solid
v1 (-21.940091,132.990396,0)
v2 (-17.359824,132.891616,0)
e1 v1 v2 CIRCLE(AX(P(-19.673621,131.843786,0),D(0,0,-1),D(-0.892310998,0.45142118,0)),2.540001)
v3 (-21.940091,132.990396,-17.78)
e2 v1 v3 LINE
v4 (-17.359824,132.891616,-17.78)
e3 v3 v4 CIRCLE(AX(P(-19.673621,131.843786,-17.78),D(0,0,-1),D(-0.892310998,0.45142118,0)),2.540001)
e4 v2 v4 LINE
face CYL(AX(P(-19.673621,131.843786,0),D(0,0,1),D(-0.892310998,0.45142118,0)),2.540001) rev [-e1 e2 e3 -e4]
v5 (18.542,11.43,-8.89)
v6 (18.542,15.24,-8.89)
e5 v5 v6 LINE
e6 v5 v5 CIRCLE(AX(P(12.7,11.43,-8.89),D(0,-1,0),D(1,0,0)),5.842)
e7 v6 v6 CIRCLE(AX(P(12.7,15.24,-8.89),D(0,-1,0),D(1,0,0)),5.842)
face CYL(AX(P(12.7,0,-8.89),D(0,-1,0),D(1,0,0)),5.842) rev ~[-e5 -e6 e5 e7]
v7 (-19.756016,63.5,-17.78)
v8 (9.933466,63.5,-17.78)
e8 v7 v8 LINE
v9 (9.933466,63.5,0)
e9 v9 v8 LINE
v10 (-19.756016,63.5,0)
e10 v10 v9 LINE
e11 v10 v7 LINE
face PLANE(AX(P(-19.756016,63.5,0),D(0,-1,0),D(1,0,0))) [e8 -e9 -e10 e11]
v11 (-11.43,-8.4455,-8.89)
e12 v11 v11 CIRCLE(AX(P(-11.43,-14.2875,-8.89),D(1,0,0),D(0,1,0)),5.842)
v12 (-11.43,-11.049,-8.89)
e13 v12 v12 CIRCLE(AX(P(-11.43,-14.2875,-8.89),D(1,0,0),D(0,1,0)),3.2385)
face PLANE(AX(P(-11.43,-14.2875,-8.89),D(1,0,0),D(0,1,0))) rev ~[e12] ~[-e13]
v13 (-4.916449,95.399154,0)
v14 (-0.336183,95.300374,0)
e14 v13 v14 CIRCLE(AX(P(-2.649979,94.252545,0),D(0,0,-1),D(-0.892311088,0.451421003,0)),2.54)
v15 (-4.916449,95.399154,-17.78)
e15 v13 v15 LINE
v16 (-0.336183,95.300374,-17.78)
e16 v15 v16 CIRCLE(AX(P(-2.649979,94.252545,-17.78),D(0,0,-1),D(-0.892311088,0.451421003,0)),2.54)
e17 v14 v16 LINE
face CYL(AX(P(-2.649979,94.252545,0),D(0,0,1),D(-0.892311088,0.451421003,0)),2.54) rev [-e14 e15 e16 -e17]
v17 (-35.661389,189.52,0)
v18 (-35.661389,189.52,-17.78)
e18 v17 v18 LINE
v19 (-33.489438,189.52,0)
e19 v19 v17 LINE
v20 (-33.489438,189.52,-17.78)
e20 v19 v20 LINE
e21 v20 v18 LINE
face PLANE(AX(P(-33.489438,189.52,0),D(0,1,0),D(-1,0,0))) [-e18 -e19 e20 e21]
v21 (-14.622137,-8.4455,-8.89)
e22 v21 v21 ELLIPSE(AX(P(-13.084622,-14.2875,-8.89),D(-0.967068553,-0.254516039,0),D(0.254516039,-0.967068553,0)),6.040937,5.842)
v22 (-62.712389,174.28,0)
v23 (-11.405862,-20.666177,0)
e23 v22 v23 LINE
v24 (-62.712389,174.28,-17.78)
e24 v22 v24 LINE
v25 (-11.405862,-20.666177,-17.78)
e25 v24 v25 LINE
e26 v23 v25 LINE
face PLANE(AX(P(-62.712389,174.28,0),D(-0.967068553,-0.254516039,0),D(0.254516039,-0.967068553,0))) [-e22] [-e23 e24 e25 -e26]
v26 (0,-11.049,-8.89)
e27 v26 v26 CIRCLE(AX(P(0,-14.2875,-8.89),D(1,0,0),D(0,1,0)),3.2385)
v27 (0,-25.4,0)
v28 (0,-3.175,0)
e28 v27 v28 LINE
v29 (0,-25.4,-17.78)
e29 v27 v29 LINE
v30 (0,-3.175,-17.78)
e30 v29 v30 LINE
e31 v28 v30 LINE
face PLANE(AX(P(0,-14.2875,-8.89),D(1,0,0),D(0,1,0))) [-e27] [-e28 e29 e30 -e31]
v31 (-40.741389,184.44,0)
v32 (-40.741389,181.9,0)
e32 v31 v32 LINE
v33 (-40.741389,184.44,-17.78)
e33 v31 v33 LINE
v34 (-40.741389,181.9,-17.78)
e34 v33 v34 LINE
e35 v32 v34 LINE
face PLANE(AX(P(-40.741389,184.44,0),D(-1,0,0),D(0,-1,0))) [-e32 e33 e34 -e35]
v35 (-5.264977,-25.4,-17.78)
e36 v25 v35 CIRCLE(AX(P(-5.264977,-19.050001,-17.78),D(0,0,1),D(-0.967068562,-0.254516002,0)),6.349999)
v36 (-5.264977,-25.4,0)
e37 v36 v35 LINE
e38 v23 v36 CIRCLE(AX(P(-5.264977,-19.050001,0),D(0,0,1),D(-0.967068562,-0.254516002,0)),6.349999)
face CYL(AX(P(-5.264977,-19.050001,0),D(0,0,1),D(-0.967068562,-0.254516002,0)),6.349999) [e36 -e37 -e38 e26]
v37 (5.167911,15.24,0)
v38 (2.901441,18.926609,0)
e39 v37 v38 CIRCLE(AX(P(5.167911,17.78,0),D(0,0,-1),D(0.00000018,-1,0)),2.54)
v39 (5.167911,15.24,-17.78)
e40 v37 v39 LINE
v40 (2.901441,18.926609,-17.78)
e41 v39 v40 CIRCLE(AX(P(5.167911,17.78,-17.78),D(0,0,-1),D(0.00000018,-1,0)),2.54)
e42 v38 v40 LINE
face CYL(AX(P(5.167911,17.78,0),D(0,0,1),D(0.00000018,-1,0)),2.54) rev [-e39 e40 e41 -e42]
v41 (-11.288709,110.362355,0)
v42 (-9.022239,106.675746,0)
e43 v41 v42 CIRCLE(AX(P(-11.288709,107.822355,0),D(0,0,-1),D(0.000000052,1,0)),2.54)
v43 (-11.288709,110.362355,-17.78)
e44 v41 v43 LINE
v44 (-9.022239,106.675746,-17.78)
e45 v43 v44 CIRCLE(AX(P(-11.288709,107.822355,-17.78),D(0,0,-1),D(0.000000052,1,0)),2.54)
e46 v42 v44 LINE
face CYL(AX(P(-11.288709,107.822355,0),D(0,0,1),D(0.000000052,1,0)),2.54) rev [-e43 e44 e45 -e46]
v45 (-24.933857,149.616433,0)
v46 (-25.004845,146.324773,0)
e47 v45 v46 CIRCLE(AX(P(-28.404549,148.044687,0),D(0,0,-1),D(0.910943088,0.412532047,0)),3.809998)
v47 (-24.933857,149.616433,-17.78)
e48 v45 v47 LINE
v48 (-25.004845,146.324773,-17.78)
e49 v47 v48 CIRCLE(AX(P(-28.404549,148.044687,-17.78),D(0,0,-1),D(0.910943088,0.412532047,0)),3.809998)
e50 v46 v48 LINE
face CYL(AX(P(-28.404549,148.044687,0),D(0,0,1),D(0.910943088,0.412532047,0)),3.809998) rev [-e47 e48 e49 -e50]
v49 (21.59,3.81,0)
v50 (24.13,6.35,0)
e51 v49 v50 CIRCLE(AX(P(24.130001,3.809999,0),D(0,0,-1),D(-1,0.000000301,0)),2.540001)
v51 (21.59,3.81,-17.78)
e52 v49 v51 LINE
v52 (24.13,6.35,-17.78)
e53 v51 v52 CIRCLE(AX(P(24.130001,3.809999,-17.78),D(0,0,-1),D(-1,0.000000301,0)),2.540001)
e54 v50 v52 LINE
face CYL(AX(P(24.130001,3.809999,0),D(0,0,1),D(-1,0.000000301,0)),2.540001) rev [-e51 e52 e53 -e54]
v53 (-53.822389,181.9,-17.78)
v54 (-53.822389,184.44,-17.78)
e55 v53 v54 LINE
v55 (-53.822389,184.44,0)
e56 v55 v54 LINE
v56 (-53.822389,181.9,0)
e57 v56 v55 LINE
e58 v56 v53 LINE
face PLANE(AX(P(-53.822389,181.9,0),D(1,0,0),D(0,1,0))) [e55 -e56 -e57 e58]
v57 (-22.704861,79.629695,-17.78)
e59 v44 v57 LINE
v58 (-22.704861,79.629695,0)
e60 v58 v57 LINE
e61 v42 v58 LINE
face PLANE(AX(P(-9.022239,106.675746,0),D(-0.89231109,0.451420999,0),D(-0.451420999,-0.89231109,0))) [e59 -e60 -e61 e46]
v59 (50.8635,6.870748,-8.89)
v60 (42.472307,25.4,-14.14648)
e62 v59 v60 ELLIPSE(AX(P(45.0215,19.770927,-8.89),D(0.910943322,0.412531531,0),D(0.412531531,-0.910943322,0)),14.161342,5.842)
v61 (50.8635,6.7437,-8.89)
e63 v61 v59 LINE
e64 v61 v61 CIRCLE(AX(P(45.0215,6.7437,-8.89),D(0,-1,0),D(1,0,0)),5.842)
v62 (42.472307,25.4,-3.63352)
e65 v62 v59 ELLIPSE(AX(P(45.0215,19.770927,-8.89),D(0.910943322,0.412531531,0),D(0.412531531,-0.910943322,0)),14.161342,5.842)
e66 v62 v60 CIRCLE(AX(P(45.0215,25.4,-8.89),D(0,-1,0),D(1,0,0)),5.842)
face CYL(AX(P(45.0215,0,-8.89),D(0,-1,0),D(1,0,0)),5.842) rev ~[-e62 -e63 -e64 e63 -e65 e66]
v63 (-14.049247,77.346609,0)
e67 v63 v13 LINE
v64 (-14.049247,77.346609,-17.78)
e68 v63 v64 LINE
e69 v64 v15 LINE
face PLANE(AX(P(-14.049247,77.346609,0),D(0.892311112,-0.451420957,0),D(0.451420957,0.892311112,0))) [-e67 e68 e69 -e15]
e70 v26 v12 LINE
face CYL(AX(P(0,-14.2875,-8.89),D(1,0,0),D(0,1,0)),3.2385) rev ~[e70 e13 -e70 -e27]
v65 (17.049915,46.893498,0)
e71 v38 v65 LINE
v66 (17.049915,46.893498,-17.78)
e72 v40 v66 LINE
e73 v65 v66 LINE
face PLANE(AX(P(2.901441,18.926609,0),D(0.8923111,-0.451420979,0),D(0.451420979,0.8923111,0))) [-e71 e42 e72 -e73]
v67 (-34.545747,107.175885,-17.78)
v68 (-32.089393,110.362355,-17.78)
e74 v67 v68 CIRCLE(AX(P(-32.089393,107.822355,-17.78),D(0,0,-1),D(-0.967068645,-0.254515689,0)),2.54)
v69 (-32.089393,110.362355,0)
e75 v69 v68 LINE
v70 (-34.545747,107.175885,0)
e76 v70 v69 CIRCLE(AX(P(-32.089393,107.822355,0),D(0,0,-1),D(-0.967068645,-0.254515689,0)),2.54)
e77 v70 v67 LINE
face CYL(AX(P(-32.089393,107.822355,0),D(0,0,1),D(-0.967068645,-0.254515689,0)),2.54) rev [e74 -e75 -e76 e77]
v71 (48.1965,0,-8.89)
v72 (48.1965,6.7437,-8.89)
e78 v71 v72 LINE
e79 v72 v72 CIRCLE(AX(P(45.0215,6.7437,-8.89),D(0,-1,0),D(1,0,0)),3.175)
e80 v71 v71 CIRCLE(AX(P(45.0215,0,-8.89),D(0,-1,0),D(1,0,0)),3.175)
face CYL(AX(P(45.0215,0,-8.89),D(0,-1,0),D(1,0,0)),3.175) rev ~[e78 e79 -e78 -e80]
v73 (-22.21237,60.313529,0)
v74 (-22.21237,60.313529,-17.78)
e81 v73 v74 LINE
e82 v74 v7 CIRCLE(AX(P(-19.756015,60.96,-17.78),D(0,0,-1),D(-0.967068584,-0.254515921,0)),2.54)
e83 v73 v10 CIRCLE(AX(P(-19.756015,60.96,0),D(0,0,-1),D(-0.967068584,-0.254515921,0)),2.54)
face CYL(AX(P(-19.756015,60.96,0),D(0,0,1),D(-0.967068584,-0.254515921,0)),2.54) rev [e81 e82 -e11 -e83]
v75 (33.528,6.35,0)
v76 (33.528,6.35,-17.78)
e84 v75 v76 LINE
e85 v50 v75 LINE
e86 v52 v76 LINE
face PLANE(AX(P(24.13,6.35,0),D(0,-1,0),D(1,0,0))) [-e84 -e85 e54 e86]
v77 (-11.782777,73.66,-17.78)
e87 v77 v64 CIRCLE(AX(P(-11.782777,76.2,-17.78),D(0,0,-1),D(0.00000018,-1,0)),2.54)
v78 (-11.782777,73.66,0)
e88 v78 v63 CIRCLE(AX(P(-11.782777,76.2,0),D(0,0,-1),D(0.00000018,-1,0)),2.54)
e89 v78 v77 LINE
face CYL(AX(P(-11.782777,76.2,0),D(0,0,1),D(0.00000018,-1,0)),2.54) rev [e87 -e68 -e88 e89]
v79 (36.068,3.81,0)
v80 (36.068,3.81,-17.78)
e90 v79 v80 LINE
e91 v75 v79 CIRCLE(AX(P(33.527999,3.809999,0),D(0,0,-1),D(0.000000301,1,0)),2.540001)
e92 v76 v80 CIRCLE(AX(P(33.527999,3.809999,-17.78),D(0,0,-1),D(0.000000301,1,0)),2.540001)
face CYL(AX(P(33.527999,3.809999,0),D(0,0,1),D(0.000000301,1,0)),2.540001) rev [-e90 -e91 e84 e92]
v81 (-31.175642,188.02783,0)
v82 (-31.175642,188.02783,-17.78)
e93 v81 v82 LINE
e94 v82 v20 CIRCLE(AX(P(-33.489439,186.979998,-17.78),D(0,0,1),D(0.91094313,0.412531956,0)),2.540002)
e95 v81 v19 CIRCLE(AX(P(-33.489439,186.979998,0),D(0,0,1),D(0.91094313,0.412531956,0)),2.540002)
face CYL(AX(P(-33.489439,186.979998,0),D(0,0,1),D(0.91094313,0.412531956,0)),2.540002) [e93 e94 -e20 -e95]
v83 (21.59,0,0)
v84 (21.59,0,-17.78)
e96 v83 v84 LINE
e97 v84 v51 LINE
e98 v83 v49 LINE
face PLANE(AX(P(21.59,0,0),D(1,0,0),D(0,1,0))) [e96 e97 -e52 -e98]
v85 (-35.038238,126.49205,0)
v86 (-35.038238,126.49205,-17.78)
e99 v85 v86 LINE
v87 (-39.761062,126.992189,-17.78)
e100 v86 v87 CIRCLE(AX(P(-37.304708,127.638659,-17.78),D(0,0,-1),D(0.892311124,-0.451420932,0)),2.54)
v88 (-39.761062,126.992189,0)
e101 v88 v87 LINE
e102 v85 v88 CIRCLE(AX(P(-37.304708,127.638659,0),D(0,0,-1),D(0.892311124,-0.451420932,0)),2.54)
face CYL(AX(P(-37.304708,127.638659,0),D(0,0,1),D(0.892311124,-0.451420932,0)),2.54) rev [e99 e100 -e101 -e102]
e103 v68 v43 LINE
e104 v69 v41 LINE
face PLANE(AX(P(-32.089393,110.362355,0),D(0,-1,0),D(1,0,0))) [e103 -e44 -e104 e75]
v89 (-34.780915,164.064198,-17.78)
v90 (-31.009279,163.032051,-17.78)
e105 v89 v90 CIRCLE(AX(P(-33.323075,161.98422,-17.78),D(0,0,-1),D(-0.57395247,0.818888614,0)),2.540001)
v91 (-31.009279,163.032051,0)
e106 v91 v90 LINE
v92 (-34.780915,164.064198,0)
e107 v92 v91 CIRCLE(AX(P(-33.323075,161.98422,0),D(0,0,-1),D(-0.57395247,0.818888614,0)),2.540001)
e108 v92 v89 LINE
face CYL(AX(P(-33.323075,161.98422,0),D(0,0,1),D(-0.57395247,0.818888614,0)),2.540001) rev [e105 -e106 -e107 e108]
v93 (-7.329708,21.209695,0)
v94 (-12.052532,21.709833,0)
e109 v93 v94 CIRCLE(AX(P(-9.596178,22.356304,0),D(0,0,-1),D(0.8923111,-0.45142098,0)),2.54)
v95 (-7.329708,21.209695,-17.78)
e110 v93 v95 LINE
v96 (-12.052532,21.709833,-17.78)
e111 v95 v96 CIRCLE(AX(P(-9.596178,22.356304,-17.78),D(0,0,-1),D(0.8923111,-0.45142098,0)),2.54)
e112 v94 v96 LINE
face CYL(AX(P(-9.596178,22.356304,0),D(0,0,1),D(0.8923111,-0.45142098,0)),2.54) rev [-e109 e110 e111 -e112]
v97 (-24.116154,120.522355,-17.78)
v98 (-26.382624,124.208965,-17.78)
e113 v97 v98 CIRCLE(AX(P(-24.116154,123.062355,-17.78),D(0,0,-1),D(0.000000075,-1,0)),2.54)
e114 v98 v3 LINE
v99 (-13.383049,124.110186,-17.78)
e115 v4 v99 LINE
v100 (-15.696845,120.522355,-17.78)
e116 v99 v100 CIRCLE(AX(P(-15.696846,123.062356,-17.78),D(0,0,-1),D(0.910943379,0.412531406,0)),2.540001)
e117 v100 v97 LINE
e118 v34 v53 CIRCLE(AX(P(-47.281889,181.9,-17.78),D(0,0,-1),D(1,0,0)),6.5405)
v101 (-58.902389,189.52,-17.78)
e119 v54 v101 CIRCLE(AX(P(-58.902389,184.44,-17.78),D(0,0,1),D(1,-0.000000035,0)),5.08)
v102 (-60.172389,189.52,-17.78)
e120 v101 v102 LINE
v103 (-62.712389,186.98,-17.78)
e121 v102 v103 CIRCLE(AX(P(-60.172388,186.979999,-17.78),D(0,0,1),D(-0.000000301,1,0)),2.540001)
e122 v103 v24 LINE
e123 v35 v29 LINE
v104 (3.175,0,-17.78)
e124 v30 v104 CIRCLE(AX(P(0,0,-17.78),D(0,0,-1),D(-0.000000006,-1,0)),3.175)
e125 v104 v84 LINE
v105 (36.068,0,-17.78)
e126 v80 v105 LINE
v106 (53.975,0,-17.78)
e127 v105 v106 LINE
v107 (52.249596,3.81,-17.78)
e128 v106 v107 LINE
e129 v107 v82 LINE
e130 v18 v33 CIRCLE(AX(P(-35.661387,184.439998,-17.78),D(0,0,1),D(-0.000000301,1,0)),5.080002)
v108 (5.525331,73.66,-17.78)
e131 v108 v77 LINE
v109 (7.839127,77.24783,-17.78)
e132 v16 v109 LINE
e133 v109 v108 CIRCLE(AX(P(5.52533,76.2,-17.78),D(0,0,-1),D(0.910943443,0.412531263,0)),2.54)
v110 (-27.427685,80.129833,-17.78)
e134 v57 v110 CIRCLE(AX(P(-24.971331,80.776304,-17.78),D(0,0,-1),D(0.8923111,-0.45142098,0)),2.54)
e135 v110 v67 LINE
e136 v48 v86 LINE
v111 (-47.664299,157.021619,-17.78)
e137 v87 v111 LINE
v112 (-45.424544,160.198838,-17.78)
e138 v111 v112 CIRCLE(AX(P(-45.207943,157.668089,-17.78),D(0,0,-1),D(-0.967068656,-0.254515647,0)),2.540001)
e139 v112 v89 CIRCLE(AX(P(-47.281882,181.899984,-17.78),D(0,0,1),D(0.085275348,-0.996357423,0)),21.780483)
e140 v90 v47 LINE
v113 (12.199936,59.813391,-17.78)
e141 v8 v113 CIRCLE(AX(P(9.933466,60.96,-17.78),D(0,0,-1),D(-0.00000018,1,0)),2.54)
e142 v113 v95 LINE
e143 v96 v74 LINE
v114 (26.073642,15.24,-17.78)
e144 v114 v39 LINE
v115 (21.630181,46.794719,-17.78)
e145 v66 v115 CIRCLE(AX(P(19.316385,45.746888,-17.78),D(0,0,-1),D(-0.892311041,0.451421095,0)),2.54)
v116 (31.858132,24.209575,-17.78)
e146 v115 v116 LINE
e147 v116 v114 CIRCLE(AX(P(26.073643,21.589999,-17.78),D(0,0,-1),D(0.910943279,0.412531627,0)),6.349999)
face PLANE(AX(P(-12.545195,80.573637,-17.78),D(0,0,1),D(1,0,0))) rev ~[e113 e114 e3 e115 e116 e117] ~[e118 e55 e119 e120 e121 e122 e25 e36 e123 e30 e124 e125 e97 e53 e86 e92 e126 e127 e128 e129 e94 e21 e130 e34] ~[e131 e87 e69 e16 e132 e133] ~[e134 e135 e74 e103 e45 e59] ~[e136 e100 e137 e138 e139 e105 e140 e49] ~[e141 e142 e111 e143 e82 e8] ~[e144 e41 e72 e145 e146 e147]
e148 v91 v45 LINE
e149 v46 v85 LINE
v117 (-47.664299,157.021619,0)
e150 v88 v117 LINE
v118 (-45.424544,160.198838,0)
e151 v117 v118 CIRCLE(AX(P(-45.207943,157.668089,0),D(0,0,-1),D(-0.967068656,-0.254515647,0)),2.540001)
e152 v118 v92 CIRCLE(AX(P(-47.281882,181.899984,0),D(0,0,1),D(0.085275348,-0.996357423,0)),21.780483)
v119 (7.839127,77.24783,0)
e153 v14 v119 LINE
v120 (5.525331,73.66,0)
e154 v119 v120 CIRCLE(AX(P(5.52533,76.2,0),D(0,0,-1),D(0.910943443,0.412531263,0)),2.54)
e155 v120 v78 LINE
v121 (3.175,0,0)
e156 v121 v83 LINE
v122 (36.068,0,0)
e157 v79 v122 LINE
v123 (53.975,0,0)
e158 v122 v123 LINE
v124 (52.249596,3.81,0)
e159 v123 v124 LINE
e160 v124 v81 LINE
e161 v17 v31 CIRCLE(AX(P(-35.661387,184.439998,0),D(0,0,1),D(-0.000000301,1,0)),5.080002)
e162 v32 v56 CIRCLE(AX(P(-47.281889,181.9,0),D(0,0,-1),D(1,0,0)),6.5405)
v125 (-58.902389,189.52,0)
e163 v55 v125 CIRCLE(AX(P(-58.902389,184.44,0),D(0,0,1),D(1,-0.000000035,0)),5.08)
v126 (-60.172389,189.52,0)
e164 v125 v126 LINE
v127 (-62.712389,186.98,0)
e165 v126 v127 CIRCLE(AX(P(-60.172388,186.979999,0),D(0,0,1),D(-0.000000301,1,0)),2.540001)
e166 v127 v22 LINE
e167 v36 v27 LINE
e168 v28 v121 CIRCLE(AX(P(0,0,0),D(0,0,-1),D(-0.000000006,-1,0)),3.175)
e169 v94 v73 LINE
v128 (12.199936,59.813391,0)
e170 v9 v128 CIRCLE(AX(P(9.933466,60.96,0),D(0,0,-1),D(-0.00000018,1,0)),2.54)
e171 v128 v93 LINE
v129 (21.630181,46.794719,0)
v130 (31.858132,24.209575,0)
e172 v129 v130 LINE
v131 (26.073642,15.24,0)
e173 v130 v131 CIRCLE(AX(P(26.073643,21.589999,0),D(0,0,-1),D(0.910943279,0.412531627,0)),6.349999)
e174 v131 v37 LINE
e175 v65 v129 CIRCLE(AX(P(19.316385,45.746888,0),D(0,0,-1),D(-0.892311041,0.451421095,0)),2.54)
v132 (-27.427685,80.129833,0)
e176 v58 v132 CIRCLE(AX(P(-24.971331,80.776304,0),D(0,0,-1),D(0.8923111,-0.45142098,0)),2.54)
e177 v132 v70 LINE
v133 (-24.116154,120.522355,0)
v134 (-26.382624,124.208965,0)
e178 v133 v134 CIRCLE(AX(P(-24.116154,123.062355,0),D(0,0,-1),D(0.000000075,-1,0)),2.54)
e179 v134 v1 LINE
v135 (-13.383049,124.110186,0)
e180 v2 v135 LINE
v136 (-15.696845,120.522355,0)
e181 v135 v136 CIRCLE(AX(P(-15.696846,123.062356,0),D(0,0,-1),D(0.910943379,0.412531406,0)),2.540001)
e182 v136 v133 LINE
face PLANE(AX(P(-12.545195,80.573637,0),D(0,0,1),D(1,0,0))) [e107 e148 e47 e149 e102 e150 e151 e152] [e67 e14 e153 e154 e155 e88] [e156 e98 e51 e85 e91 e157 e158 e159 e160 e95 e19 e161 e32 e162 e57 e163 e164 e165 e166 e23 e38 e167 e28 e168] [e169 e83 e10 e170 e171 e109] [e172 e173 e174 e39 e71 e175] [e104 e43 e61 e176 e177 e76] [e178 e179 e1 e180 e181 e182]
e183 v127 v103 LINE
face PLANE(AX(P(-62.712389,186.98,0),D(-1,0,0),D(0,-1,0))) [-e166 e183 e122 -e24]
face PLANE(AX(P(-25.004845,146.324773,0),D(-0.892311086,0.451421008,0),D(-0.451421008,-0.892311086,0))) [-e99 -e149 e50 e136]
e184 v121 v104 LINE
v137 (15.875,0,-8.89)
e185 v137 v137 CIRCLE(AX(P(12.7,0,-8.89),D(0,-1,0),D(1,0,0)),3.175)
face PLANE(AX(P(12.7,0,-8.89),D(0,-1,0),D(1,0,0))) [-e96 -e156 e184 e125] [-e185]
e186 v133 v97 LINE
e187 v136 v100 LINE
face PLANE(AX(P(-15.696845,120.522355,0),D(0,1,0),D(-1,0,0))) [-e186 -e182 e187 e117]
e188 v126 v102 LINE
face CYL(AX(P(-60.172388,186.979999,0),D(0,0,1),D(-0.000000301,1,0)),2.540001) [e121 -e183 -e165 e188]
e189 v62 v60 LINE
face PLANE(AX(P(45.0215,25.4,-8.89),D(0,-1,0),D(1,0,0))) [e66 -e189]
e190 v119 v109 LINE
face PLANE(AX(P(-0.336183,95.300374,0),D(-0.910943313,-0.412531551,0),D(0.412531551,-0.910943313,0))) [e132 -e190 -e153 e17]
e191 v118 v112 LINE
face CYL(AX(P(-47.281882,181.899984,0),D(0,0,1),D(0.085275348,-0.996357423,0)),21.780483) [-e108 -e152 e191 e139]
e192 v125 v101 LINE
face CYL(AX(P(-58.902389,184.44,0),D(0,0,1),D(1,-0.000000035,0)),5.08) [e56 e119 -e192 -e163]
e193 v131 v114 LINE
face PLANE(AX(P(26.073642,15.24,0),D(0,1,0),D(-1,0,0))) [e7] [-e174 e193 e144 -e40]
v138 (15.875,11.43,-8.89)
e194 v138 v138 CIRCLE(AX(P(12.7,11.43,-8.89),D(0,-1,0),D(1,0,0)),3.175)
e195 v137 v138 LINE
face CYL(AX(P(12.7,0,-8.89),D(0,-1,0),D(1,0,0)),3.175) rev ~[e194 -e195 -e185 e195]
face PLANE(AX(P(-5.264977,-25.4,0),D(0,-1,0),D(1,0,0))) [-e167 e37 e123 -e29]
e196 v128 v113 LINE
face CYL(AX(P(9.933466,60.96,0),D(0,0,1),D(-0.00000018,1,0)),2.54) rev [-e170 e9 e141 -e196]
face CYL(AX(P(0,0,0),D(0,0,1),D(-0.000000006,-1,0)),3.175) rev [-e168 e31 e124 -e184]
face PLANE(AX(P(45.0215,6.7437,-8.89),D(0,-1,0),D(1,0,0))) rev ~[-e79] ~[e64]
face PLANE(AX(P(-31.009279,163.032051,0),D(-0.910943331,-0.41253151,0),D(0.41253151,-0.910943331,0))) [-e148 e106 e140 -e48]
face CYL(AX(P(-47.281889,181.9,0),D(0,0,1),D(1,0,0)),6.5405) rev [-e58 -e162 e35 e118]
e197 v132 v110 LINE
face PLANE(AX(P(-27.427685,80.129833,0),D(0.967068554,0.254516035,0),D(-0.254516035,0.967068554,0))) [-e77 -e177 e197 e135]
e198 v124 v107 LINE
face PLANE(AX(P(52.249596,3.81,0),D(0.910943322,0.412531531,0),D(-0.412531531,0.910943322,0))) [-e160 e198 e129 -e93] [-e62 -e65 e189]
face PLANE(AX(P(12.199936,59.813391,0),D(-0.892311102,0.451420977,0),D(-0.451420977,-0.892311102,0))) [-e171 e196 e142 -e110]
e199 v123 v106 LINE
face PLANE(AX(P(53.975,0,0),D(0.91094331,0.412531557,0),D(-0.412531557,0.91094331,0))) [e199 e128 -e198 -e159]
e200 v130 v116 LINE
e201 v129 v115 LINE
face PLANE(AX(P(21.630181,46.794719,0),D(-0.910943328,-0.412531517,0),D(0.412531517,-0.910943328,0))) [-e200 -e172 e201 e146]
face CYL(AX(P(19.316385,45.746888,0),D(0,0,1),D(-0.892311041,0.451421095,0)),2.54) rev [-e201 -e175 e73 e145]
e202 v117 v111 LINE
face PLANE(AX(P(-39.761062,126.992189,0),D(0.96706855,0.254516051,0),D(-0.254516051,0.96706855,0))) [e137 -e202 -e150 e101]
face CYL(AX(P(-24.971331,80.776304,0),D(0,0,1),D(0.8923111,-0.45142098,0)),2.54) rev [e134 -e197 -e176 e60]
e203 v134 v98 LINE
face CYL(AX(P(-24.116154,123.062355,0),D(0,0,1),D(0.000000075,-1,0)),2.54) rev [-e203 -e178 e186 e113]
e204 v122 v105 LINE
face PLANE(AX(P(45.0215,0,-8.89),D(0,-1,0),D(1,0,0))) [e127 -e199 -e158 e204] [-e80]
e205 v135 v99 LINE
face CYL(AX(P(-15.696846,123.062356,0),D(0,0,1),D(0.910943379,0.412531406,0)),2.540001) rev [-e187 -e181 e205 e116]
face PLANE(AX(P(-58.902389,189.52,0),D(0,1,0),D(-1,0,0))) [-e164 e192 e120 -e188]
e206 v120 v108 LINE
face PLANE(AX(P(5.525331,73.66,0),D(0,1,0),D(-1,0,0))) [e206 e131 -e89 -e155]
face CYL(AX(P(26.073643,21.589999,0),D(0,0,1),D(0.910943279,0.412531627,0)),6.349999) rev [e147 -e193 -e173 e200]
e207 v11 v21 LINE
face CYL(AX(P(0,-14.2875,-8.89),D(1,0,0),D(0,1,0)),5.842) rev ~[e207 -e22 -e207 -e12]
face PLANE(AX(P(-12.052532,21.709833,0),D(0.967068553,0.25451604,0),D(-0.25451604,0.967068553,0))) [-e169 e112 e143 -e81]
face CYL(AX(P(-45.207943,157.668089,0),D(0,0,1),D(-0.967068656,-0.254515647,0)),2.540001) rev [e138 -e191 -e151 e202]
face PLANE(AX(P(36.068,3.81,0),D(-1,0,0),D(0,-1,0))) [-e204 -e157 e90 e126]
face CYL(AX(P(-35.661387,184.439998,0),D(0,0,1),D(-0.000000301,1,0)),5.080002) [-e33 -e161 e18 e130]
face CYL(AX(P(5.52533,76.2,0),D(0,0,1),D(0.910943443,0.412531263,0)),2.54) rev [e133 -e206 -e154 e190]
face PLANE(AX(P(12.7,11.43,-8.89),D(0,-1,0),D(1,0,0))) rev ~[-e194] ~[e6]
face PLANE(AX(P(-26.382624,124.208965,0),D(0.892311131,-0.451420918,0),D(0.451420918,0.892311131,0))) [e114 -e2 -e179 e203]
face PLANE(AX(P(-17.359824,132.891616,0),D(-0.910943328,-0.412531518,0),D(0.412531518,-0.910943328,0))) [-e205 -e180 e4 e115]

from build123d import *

# Parameters (mm, degrees)
F0_W     = 18.415
F0_H     = 3.81
F1_DEPTH = 17.78
F2_R     = 5.842
F2_R_2   = 3.2385
F3_DEPTH = 25.4
F4_R     = 5.842
F4_R_2   = 3.175
F5_DEPTH = 25.4
F6_DEPTH = 11.43
F7_DEPTH = 6.7437
F8_DEPTH = 11.43


with BuildPart() as f1:
    # F0 (on Top) → F1 (new body)
    with BuildSketch(Plane.XY):
        with BuildLine():
            ThreePointArc((-40.741389, 181.9), (-47.281889, 175.3595), (-53.822389, 181.9))
            Line((-53.822389, 181.9), (-53.822389, 184.44))
            ThreePointArc((-53.822389, 184.44), (-55.310286, 188.032102), (-58.902389, 189.52))
            Line((-58.902389, 189.52), (-60.172389, 189.52))
            ThreePointArc((-60.172389, 189.52), (-61.96844, 188.776051), (-62.712389, 186.98))
            Line((-62.712389, 186.98), (-62.712389, 174.28))
            Line((-62.712389, 174.28), (-11.405862, -20.666177))
            ThreePointArc((-11.405862, -20.666177), (-9.141817, -24.079176), (-5.264977, -25.4))
            Line((-5.264977, -25.4), (-2.54, -25.4))
            Line((-2.54, -25.4), (0, -25.4))
            Line((0, -25.4), (0, -3.175))
            ThreePointArc((0, -3.175), (-2.245064, 2.245064), (3.175, 0))
            Line((3.175, 0), (3.175, 3.81))
            Line((3.175, 3.81), (21.59, 3.81))
            ThreePointArc((21.59, 3.81), (22.333949, 5.606051), (24.13, 6.35))
            Line((24.13, 6.35), (33.528, 6.35))
            ThreePointArc((33.528, 6.35), (35.324051, 5.606051), (36.068, 3.81))
            Line((36.068, 3.81), (52.249596, 3.81))
            Line((52.249596, 3.81), (-31.175642, 188.02783))
            ThreePointArc((-31.175642, 188.02783), (-32.112828, 189.114606), (-33.489438, 189.52))
            Line((-33.489438, 189.52), (-35.661389, 189.52))
            ThreePointArc((-35.661389, 189.52), (-39.253491, 188.032102), (-40.741389, 184.44))
            Line((-40.741389, 184.44), (-40.741389, 181.9))
        make_face()
        with BuildLine():
            Line((12.199936, 59.813391), (-7.329708, 21.209695))
            ThreePointArc((-7.329708, 21.209695), (-9.863664, 19.830428), (-12.052532, 21.709833))
            Line((-12.052532, 21.709833), (-22.21237, 60.313529))
            ThreePointArc((-22.21237, 60.313529), (-21.767686, 62.510736), (-19.756016, 63.5))
            Line((-19.756016, 63.5), (9.933466, 63.5))
            ThreePointArc((9.933466, 63.5), (12.097258, 62.290265), (12.199936, 59.813391))
        make_face(mode=Mode.SUBTRACT)
        with BuildLine():
            Line((26.073642, 15.24), (5.167911, 15.24))
            ThreePointArc((5.167911, 15.24), (3.004119, 16.449735), (2.901441, 18.926609))
            Line((2.901441, 18.926609), (17.049915, 46.893498))
            ThreePointArc((17.049915, 46.893498), (19.37115, 48.286298), (21.630181, 46.794719))
            Line((21.630181, 46.794719), (31.858132, 24.209575))
            ThreePointArc((31.858132, 24.209575), (31.410158, 18.148474), (26.073642, 15.24))
        make_face(mode=Mode.SUBTRACT)
        with BuildLine():
            Line((-9.022239, 106.675746), (-22.704861, 79.629695))
            ThreePointArc((-22.704861, 79.629695), (-25.238817, 78.250428), (-27.427685, 80.129833))
            Line((-27.427685, 80.129833), (-34.545747, 107.175885))
            ThreePointArc((-34.545747, 107.175885), (-34.101063, 109.373091), (-32.089393, 110.362355))
            Line((-32.089393, 110.362355), (-11.288709, 110.362355))
            ThreePointArc((-11.288709, 110.362355), (-9.124918, 109.152621), (-9.022239, 106.675746))
        make_face(mode=Mode.SUBTRACT)
        with BuildLine():
            ThreePointArc((-13.383049, 124.110186), (-13.562239, 121.685745), (-15.696845, 120.522355))
            Line((-15.696845, 120.522355), (-24.116154, 120.522355))
            ThreePointArc((-24.116154, 120.522355), (-26.279946, 121.73209), (-26.382624, 124.208965))
            Line((-26.382624, 124.208965), (-21.940091, 132.990396))
            ThreePointArc((-21.940091, 132.990396), (-19.618855, 134.383196), (-17.359824, 132.891616))
            Line((-17.359824, 132.891616), (-13.383049, 124.110186))
        make_face(mode=Mode.SUBTRACT)
        with BuildLine():
            Line((-39.761062, 126.992189), (-47.664299, 157.021619))
            ThreePointArc((-47.664299, 157.021619), (-47.283962, 159.131562), (-45.424544, 160.198838))
            ThreePointArc((-45.424544, 160.198838), (-39.847134, 161.427711), (-34.780915, 164.064198))
            ThreePointArc((-34.780915, 164.064198), (-32.65263, 164.43414), (-31.009279, 163.032051))
            Line((-31.009279, 163.032051), (-24.933857, 149.616433))
            ThreePointArc((-24.933857, 149.616433), (-24.595436, 147.962539), (-25.004845, 146.324773))
            Line((-25.004845, 146.324773), (-35.038238, 126.49205))
            ThreePointArc((-35.038238, 126.49205), (-37.572194, 125.112783), (-39.761062, 126.992189))
        make_face(mode=Mode.SUBTRACT)
        with BuildLine():
            Line((5.525331, 73.66), (-11.782777, 73.66))
            ThreePointArc((-11.782777, 73.66), (-13.946569, 74.869735), (-14.049247, 77.346609))
            Line((-14.049247, 77.346609), (-4.916449, 95.399154))
            ThreePointArc((-4.916449, 95.399154), (-2.595213, 96.791954), (-0.336183, 95.300374))
            Line((-0.336183, 95.300374), (7.839127, 77.24783))
            ThreePointArc((7.839127, 77.24783), (7.659937, 74.82339), (5.525331, 73.66))
        make_face(mode=Mode.SUBTRACT)
        Polygon((53.975, 0), (52.249596, 3.81), (36.068, 3.81), (36.068, 0), align=None)
        with Locations((12.3825, 1.905)):
            Rectangle(F0_W, F0_H)
    extrude(amount=-F1_DEPTH)

    # F2 (on face) → F3 (cut)
    with BuildSketch(Plane.YZ):
        with Locations((-14.2875, -8.89)):
            Circle(F2_R)
        with Locations((-14.2875, -8.89)):
            Circle(F2_R_2, mode=Mode.SUBTRACT)
        with Locations((-14.2875, -8.89)):
            Circle(F2_R_2)
    extrude(amount=-F3_DEPTH, mode=Mode.SUBTRACT)

    # F4 (on face) → F5 (cut)
    with BuildSketch(Plane.XZ):
        with Locations((12.7, -8.89)):
            Circle(F4_R)
        with Locations((12.7, -8.89)):
            Circle(F4_R_2, mode=Mode.SUBTRACT)
        with Locations((45.0215, -8.89)):
            Circle(F4_R)
        with Locations((45.0215, -8.89)):
            Circle(F4_R_2, mode=Mode.SUBTRACT)
        with Locations((12.7, -8.89)):
            Circle(F4_R_2)
        with Locations((45.0215, -8.89)):
            Circle(F4_R_2)
    extrude(amount=-F5_DEPTH, mode=Mode.SUBTRACT)

    # F4 (on face) → F6 (join)
    with BuildSketch(Plane.XZ):
        with Locations((12.7, -8.89)):
            Circle(F4_R)
        with Locations((12.7, -8.89)):
            Circle(F4_R_2, mode=Mode.SUBTRACT)
    extrude(amount=-F6_DEPTH)

    # F4 (on face) → F7 (join)
    with BuildSketch(Plane.XZ):
        with Locations((45.0215, -8.89)):
            Circle(F4_R)
        with Locations((45.0215, -8.89)):
            Circle(F4_R_2, mode=Mode.SUBTRACT)
    extrude(amount=-F7_DEPTH)

    # F2 (on face) → F8 (join)
    with BuildSketch(Plane.YZ):
        with Locations((-14.2875, -8.89)):
            Circle(F2_R)
        with Locations((-14.2875, -8.89)):
            Circle(F2_R_2, mode=Mode.SUBTRACT)
    extrude(amount=-F8_DEPTH)


solid = f1.part
